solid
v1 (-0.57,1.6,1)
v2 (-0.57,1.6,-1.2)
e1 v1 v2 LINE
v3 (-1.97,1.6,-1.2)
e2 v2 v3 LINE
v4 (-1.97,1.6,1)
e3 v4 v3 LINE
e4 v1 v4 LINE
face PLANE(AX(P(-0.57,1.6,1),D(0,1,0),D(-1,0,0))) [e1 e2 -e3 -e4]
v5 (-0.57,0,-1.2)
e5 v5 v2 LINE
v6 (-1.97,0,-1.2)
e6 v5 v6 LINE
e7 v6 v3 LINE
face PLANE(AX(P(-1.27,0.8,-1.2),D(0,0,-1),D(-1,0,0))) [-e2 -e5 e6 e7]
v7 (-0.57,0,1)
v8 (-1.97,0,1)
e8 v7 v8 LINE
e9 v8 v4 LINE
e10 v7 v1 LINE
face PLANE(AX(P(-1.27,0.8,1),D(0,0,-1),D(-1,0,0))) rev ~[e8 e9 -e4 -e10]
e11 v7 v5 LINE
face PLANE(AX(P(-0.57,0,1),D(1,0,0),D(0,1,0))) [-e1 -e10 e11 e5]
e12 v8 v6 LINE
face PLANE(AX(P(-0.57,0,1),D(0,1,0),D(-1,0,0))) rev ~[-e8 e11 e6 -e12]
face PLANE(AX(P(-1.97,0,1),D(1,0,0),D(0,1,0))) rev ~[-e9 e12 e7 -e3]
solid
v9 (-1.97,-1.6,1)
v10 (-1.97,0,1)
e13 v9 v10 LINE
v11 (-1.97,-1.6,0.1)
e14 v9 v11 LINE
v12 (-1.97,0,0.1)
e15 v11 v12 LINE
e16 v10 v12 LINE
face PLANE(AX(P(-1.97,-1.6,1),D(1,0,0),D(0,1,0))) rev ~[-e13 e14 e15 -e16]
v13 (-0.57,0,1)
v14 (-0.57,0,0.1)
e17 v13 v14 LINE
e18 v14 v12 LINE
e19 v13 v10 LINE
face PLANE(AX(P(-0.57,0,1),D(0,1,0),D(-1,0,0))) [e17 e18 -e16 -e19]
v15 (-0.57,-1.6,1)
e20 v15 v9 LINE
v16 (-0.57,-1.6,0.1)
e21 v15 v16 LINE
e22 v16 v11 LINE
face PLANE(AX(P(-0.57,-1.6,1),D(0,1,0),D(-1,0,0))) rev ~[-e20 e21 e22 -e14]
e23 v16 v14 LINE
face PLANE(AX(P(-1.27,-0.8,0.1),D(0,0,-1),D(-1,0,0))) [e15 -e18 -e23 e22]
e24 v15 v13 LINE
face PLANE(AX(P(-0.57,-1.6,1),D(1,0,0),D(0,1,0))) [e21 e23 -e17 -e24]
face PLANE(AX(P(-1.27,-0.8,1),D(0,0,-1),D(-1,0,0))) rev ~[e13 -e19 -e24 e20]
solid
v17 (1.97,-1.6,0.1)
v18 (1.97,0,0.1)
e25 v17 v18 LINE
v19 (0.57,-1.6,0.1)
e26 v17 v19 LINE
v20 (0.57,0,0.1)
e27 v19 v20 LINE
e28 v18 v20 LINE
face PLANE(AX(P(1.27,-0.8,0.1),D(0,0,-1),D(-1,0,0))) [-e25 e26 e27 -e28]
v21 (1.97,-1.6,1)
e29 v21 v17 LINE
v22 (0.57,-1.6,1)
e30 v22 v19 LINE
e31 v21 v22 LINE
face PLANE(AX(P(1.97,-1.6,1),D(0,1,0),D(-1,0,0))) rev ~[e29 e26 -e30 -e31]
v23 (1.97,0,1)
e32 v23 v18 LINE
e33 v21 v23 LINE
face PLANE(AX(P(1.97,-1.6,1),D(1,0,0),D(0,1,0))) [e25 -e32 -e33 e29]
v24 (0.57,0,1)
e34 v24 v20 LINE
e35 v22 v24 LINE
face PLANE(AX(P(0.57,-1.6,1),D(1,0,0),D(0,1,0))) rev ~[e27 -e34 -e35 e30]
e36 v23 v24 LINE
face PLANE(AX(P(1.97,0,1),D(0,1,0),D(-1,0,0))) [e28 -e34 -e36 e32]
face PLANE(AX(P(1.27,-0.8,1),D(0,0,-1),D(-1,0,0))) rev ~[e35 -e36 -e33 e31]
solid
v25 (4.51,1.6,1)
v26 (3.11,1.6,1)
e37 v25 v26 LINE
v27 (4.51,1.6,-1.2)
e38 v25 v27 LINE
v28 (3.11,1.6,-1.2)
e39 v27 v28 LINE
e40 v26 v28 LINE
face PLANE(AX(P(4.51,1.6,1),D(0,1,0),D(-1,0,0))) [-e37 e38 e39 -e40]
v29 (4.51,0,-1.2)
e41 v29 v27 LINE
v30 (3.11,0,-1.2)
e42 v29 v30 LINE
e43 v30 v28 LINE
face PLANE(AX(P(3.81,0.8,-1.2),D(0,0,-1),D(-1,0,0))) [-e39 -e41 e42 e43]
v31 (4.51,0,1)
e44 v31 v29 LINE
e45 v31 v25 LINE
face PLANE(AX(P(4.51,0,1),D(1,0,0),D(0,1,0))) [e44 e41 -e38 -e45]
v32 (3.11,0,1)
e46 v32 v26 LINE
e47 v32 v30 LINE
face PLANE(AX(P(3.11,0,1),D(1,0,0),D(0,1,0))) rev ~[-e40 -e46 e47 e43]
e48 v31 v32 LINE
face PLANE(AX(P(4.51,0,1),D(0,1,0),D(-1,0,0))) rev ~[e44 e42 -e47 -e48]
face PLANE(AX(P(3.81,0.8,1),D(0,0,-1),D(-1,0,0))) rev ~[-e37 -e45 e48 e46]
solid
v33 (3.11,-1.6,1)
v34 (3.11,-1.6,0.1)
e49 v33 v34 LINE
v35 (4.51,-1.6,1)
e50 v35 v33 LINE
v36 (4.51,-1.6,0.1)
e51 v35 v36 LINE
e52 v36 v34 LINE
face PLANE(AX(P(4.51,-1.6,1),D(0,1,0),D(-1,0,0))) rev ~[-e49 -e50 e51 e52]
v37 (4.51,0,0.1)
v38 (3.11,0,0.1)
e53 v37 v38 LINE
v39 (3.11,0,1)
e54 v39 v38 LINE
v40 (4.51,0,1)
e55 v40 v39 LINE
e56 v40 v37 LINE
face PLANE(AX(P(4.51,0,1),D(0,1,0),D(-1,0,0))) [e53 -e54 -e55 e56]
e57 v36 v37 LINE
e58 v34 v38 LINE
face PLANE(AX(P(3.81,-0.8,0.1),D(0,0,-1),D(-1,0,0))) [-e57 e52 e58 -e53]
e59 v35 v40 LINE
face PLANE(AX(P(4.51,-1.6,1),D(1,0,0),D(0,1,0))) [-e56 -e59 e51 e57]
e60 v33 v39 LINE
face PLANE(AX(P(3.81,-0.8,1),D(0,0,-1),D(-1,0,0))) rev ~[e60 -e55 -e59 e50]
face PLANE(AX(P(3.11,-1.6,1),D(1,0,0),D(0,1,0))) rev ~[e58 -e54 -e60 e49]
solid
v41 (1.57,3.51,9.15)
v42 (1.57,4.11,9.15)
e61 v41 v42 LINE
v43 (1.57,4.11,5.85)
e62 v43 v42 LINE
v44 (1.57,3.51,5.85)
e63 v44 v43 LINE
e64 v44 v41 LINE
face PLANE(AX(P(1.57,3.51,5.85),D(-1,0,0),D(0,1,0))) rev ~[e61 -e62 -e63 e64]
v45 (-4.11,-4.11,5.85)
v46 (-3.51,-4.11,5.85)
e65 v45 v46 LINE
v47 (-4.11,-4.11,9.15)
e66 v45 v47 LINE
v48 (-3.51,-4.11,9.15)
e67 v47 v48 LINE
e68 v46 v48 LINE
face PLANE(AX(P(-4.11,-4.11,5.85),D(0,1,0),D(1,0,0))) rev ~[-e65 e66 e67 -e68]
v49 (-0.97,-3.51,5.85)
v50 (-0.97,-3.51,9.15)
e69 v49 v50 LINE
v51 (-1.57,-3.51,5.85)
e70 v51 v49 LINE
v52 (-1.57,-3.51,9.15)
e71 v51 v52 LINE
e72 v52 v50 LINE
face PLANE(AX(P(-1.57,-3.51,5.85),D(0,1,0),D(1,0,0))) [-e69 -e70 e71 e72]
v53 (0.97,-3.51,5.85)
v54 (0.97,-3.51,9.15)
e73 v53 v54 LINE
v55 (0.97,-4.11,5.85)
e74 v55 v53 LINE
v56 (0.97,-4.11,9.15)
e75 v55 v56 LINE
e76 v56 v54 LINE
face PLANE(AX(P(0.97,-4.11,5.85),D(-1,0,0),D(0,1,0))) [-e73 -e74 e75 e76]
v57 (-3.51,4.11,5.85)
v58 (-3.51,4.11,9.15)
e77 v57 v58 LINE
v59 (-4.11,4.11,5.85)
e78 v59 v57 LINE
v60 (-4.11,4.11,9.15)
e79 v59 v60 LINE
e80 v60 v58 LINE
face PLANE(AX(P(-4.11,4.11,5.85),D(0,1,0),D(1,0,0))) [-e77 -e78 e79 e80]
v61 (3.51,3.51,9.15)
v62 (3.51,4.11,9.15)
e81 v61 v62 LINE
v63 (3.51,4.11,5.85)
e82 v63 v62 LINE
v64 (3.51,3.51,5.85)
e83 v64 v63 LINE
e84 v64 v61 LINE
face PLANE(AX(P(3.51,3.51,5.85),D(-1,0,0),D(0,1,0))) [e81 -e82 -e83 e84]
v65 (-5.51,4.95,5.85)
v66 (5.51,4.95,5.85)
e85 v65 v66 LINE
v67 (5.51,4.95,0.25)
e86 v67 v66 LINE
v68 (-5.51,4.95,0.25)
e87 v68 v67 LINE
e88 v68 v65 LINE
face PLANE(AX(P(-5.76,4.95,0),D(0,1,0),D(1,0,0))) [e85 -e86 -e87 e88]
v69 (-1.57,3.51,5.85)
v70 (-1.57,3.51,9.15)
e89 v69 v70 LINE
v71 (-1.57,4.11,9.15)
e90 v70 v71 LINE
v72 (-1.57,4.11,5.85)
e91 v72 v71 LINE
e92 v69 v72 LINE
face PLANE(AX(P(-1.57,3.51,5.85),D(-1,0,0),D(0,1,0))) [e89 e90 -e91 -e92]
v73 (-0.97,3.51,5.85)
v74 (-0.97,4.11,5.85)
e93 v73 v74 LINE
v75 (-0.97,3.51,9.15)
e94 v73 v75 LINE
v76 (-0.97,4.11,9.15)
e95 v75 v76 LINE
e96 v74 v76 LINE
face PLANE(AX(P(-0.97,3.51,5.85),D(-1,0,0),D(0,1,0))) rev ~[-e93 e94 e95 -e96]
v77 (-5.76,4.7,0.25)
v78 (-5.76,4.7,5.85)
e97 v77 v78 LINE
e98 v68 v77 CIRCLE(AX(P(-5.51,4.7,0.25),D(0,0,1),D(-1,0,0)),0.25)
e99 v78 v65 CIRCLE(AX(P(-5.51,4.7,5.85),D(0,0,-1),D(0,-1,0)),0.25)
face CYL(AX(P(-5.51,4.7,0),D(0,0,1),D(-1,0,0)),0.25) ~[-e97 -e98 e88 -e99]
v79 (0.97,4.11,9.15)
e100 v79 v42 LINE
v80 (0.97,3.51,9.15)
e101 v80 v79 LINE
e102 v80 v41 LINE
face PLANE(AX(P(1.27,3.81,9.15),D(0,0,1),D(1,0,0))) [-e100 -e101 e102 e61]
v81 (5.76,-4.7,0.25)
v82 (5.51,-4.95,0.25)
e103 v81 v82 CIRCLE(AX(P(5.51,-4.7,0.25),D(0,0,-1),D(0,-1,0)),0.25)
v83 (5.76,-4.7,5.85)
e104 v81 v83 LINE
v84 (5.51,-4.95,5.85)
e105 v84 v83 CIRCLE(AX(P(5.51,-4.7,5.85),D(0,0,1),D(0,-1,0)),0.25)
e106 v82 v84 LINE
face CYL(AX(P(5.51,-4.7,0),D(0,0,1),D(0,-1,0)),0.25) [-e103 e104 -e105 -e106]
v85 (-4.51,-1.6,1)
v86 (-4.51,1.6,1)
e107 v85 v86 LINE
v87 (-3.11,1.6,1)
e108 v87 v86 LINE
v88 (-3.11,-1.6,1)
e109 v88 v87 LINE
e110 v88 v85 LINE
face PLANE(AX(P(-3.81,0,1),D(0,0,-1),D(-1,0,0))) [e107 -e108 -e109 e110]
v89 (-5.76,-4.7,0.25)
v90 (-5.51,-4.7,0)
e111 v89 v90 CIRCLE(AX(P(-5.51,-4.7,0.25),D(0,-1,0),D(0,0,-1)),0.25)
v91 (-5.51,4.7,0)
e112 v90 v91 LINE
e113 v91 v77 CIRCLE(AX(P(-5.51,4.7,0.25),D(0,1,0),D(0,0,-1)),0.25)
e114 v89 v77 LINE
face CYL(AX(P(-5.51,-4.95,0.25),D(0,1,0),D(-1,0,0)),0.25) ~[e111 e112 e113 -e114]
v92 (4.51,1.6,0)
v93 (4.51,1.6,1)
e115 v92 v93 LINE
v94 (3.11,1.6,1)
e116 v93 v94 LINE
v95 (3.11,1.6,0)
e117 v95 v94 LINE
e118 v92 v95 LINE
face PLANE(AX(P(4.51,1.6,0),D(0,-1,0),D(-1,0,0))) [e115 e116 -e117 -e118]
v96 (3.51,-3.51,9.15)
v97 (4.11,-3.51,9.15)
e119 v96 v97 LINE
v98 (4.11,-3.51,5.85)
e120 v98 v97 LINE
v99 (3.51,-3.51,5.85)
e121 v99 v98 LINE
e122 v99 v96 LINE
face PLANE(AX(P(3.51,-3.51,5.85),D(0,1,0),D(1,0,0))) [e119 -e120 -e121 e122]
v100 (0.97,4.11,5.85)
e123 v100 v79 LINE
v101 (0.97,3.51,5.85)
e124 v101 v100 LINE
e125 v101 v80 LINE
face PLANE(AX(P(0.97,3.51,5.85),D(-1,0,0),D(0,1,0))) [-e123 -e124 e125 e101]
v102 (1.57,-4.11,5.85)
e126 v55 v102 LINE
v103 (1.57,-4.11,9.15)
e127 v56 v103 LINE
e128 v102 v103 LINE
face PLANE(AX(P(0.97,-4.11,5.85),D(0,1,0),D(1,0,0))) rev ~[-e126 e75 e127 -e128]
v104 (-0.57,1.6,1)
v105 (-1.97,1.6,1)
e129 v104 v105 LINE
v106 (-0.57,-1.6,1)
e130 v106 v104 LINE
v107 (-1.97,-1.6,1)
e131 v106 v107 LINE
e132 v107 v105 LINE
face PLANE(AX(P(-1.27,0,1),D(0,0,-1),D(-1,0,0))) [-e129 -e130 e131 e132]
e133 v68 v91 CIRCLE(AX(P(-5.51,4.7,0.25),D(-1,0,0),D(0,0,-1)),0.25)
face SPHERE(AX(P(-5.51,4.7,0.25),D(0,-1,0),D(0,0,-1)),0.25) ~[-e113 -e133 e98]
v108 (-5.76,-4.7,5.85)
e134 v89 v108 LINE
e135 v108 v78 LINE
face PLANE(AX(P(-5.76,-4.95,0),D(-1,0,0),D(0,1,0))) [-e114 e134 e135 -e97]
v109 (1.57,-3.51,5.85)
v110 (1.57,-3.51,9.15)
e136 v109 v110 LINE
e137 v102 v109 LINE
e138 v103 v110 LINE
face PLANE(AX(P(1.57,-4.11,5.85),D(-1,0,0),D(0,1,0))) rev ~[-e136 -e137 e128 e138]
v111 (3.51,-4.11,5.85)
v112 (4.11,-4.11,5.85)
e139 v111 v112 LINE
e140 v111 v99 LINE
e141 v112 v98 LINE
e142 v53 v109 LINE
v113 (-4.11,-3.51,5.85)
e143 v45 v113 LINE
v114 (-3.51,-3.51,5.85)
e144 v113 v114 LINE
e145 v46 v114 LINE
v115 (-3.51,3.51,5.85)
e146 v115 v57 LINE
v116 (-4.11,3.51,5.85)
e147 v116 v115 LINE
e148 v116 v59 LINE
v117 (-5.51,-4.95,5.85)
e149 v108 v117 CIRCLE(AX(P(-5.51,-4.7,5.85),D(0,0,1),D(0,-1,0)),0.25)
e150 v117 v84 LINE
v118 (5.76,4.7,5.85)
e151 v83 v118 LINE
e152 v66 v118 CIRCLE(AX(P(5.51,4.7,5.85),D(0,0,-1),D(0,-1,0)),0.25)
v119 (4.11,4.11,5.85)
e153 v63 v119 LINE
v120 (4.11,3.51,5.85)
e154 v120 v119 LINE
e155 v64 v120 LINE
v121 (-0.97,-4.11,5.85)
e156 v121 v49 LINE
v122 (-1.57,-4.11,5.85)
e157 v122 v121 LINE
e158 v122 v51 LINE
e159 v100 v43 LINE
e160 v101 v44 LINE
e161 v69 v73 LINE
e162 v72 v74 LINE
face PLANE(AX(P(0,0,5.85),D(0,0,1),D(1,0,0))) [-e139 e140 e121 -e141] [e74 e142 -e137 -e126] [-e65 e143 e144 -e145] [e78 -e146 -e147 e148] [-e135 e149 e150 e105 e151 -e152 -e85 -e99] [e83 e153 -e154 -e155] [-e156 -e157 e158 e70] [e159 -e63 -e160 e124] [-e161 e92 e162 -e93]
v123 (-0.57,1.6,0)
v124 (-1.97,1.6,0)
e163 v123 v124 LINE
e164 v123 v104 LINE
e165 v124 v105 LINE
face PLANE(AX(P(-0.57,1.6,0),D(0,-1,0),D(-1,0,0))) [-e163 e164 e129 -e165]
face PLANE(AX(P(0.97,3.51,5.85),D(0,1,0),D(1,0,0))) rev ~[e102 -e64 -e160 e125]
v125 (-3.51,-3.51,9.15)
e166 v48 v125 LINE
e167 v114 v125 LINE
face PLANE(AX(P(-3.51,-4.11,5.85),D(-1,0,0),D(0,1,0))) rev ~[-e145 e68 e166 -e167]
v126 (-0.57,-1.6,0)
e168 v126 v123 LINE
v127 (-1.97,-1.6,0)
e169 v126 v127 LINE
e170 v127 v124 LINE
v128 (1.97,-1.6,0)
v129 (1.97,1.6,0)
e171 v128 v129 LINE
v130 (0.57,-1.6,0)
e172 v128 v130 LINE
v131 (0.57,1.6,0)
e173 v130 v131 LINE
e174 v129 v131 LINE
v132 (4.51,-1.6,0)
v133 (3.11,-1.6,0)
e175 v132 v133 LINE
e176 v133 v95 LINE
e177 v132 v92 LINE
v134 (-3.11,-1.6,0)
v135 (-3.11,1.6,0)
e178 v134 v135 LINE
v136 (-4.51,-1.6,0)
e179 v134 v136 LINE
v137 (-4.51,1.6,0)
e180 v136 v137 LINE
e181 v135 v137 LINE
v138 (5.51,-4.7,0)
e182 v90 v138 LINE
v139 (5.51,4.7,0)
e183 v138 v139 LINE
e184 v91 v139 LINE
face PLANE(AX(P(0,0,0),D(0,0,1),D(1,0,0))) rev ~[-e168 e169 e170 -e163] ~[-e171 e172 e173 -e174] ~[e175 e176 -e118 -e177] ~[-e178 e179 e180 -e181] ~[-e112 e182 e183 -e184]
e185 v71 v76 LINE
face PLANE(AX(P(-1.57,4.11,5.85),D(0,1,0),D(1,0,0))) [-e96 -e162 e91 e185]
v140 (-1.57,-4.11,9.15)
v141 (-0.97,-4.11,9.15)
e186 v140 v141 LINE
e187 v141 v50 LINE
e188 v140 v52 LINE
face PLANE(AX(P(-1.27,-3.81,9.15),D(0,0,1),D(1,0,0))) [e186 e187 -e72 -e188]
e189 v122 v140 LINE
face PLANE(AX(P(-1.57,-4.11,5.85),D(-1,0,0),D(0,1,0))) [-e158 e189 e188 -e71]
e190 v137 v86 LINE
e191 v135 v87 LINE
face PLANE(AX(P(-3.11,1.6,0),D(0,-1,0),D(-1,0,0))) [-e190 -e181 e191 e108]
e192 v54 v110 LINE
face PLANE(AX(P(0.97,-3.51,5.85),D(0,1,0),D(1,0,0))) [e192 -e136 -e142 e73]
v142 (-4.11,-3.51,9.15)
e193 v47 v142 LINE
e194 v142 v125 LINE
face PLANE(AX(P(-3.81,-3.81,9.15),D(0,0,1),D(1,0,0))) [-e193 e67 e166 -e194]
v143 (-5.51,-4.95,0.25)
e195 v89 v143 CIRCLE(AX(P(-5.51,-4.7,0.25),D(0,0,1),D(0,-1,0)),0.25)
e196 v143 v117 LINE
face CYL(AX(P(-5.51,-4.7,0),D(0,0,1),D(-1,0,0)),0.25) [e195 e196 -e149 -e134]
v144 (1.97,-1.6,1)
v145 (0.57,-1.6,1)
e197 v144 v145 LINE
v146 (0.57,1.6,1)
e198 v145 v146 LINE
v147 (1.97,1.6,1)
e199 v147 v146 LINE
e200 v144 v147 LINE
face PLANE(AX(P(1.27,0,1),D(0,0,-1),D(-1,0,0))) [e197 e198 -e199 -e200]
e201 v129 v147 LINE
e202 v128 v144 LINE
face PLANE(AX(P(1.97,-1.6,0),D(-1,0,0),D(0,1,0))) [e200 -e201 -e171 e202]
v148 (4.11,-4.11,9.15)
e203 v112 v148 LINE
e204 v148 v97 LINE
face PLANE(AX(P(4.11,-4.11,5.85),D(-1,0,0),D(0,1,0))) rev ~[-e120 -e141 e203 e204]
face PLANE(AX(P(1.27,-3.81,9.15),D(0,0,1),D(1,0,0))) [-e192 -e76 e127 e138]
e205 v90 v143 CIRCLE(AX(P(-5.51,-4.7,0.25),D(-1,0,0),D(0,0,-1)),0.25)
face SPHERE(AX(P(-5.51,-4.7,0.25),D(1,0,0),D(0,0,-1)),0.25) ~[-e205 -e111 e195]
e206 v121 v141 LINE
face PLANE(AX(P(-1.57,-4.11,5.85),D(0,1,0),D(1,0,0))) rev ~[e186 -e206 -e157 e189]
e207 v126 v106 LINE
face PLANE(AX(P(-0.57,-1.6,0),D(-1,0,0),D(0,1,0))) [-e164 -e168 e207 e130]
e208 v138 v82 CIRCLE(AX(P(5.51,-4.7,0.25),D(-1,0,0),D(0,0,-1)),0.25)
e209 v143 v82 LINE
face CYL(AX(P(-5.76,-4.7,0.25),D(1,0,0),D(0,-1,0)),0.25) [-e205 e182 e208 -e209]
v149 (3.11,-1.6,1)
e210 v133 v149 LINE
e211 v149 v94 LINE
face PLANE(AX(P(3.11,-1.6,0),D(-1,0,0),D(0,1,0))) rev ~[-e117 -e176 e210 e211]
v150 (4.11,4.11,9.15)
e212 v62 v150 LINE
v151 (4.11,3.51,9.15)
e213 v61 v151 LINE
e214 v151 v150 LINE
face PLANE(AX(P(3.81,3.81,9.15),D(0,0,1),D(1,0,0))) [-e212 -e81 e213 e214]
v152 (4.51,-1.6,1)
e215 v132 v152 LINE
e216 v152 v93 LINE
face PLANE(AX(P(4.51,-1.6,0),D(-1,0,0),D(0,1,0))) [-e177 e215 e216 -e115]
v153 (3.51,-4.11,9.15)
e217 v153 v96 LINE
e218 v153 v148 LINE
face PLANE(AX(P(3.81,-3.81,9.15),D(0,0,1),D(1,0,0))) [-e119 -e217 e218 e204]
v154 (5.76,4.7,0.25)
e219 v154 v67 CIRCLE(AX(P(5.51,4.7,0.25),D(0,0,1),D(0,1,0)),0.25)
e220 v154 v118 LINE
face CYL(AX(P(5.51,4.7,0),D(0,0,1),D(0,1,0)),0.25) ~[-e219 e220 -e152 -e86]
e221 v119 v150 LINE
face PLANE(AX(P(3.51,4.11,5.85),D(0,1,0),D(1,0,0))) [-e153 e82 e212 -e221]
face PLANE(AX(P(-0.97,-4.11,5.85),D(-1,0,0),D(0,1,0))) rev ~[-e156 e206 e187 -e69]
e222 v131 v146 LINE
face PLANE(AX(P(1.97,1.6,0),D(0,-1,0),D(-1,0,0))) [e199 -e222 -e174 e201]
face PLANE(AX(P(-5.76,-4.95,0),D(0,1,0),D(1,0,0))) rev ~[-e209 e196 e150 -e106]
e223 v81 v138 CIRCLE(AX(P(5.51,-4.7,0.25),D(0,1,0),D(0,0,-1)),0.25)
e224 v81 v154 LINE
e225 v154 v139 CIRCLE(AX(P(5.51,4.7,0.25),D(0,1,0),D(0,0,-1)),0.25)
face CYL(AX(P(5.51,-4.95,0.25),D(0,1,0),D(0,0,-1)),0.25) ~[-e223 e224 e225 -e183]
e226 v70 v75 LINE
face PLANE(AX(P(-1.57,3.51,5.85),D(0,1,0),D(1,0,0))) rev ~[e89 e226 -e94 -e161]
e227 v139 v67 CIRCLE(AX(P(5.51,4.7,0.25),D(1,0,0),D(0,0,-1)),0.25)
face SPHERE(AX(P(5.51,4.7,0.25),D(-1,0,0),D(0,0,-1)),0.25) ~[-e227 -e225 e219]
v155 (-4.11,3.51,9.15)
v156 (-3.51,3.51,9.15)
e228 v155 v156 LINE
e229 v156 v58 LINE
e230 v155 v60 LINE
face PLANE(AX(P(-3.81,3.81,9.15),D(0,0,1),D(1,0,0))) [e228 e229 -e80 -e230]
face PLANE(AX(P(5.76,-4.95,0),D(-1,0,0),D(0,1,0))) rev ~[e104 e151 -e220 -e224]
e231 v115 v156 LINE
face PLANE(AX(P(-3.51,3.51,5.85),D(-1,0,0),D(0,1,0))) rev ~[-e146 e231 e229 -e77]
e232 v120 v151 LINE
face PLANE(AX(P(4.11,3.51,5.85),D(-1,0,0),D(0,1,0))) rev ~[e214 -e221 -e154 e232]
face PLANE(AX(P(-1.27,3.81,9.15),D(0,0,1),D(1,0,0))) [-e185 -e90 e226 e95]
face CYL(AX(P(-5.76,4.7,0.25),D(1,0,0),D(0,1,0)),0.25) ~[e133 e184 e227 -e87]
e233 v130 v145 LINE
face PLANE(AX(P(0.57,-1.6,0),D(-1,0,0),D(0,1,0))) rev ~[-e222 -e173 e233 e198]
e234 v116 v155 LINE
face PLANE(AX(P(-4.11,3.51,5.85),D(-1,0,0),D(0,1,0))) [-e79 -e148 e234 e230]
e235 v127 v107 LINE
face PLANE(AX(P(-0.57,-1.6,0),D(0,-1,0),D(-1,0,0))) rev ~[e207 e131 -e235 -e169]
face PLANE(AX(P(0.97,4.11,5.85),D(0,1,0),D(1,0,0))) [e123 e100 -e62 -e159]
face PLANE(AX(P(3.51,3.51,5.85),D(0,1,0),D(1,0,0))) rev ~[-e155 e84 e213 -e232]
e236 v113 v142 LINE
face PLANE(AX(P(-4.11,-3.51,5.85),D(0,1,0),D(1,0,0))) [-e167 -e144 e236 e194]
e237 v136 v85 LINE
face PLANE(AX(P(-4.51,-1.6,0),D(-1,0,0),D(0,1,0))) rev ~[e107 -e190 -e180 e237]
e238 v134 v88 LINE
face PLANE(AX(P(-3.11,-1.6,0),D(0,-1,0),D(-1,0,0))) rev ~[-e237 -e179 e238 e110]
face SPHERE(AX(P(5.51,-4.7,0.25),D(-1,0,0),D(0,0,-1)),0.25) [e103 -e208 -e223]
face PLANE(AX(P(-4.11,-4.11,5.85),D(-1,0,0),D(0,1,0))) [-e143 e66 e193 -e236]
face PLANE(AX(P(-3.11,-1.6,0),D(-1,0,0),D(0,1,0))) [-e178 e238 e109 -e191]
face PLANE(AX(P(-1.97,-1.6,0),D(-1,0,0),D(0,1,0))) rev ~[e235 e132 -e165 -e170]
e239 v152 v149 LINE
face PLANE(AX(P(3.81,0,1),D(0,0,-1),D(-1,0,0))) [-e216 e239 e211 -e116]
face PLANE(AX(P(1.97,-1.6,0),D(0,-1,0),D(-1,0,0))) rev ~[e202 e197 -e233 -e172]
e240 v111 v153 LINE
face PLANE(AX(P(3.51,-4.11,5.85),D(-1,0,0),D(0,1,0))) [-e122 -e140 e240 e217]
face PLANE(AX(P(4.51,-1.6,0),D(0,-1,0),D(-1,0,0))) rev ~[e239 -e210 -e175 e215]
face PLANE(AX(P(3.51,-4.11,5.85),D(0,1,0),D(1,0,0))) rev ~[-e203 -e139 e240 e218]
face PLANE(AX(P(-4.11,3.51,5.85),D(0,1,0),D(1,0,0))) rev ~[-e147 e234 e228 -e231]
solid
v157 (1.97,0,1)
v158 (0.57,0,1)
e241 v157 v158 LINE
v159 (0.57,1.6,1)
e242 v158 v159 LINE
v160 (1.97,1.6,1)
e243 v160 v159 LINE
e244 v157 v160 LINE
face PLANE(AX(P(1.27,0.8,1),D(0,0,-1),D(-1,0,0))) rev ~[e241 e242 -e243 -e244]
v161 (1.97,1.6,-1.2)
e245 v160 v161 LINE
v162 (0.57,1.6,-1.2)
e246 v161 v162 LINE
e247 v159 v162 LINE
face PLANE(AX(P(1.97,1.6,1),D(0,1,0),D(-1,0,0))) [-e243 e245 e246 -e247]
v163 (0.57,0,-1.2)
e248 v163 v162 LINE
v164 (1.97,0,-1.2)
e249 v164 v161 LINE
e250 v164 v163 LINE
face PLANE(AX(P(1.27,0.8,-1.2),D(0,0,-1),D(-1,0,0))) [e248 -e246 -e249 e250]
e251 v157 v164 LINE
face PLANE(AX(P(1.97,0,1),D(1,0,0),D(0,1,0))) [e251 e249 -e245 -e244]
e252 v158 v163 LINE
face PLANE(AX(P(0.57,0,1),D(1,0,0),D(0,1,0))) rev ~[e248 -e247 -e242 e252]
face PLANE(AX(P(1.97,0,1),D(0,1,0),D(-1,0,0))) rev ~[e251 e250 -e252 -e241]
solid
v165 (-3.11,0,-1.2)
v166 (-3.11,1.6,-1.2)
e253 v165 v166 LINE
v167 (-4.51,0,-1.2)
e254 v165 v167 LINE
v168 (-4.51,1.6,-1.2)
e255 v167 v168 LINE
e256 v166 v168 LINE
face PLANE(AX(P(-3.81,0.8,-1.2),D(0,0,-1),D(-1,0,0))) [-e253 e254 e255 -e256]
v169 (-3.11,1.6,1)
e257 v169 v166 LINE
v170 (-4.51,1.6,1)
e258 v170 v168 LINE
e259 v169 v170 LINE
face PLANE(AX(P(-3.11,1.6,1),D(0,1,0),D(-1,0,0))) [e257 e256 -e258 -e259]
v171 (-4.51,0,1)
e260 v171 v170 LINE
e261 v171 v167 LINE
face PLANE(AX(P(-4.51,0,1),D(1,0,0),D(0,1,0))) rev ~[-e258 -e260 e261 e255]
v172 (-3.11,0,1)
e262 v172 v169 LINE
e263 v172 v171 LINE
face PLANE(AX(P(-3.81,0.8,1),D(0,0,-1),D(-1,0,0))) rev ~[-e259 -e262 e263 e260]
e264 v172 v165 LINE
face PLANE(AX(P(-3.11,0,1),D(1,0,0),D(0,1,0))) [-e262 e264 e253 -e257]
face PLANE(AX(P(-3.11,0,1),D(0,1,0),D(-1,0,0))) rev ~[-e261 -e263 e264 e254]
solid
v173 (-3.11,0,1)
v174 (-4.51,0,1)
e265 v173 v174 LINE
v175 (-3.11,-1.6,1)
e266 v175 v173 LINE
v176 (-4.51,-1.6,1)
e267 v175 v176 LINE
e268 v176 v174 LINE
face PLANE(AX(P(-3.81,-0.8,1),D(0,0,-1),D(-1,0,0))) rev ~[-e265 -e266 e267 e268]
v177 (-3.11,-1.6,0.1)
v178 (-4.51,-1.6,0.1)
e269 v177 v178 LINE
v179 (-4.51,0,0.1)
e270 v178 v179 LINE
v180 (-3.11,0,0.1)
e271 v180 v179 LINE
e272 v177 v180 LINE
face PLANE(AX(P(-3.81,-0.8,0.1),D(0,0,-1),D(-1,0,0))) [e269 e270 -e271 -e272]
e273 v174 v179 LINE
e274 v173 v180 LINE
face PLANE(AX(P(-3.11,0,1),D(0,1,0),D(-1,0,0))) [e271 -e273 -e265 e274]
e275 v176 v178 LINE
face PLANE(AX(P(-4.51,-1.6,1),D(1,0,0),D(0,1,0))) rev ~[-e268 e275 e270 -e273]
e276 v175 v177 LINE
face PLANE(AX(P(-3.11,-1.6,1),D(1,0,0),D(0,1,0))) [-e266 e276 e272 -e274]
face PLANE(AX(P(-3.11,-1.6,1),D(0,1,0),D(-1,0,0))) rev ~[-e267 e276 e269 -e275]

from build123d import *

# Parameters (mm, degrees)
IZIM1_W                       = 11.52
IZIM1_H                       = 9.9
Y_KSEKLIK_EKSTR_ZYON1_DEPTH   = 5.85
IZIM2_W                       = 1.4
IZIM2_H                       = 3.2
KES_EKSTR_ZYON1_DEPTH         = 1
IZIM4_W                       = 1.4
IZIM4_H                       = 1.6
Y_KSEKLIK_EKSTR_ZYON2_DEPTH   = 2.2
Y_KSEKLIK_EKSTR_ZYON2_2_DEPTH = 2.2
Y_KSEKLIK_EKSTR_ZYON2_3_DEPTH = 2.2
Y_KSEKLIK_EKSTR_ZYON2_4_DEPTH = 2.2
IZIM5_W                       = 1.4
IZIM5_H                       = 1.6
Y_KSEKLIK_EKSTR_ZYON3_DEPTH   = 0.9
Y_KSEKLIK_EKSTR_ZYON3_2_DEPTH = 0.9
Y_KSEKLIK_EKSTR_ZYON3_3_DEPTH = 0.9
Y_KSEKLIK_EKSTR_ZYON3_4_DEPTH = 0.9
RADYUS1_R                     = 0.25
IZIM6_W                       = 0.6
IZIM6_H                       = 0.6
Y_KSEKLIK_EKSTR_ZYON4_DEPTH   = 3.3


with BuildPart() as part:
    # Çizim1 → Yükseklik-Ekstrüzyon1 (new body)
    with BuildSketch(Plane.XY):
        Rectangle(IZIM1_W, IZIM1_H)
    extrude(amount=Y_KSEKLIK_EKSTR_ZYON1_DEPTH)

    # Çizim2 → Kes-Ekstrüzyon1 (cut)
    with BuildSketch(Plane(origin=(0, 0, 0), x_dir=(-1, 0, 0), z_dir=(0, 0, -1))):
        with Locations((3.81, 0)):
            Rectangle(IZIM2_W, IZIM2_H)
        with Locations((1.27, 0)):
            Rectangle(IZIM2_W, IZIM2_H)
        with Locations((-1.27, 0)):
            Rectangle(IZIM2_W, IZIM2_H)
        with Locations((-3.81, 0)):
            Rectangle(IZIM2_W, IZIM2_H)
    extrude(amount=-KES_EKSTR_ZYON1_DEPTH, mode=Mode.SUBTRACT)

    # Radyus1
    radyus1_edges = [part.edges().sort_by_distance(p)[0] for p in [
        (0, -4.95, 0),
        (-5.76, 0, 0),
        (0, 4.95, 0),
        (5.76, 0, 0),
        (5.76, -4.95, 2.925),
        (-5.76, -4.95, 2.925),
        (-5.76, 4.95, 2.925),
        (5.76, 4.95, 2.925),
    ]]
    fillet(radyus1_edges, radius=RADYUS1_R)

    # Çizim6 → Yükseklik-Ekstrüzyon4 (add)
    with BuildSketch(Plane.XY.offset(5.85)):
        with Locations((3.81, 3.81)):
            Rectangle(IZIM6_W, IZIM6_H)
        with Locations((1.27, 3.81)):
            Rectangle(IZIM6_W, IZIM6_H)
        with Locations((-1.27, 3.81)):
            Rectangle(IZIM6_W, IZIM6_H)
        with Locations((-3.81, 3.81)):
            Rectangle(IZIM6_W, IZIM6_H)
        with Locations((3.81, -3.81)):
            Rectangle(IZIM6_W, IZIM6_H)
        with Locations((1.27, -3.81)):
            Rectangle(IZIM6_W, IZIM6_H)
        with Locations((-1.27, -3.81)):
            Rectangle(IZIM6_W, IZIM6_H)
        with Locations((-3.81, -3.81)):
            Rectangle(IZIM6_W, IZIM6_H)
    extrude(amount=Y_KSEKLIK_EKSTR_ZYON4_DEPTH)


with BuildPart() as body_2:
    # Çizim4 → Yükseklik-Ekstrüzyon2 (new body)
    with BuildSketch(Plane(origin=(0, 0, 1), x_dir=(-1, 0, 0), z_dir=(0, 0, -1))):
        with Locations((3.81, 0.8)):
            Rectangle(IZIM4_W, IZIM4_H)
    extrude(amount=Y_KSEKLIK_EKSTR_ZYON2_DEPTH)


with BuildPart() as body_3:
    # Çizim4 → Y_kseklik-Ekstr_zyon2 2 (new body)
    with BuildSketch(Plane(origin=(0, 0, 1), x_dir=(-1, 0, 0), z_dir=(0, 0, -1))):
        with Locations((1.27, 0.8)):
            Rectangle(IZIM4_W, IZIM4_H)
    extrude(amount=Y_KSEKLIK_EKSTR_ZYON2_2_DEPTH)


with BuildPart() as body_4:
    # Çizim4 → Y_kseklik-Ekstr_zyon2 3 (new body)
    with BuildSketch(Plane(origin=(0, 0, 1), x_dir=(-1, 0, 0), z_dir=(0, 0, -1))):
        with Locations((-1.27, 0.8)):
            Rectangle(IZIM4_W, IZIM4_H)
    extrude(amount=Y_KSEKLIK_EKSTR_ZYON2_3_DEPTH)


with BuildPart() as body_5:
    # Çizim4 → Y_kseklik-Ekstr_zyon2 4 (new body)
    with BuildSketch(Plane(origin=(0, 0, 1), x_dir=(-1, 0, 0), z_dir=(0, 0, -1))):
        with Locations((-3.81, 0.8)):
            Rectangle(IZIM4_W, IZIM4_H)
    extrude(amount=Y_KSEKLIK_EKSTR_ZYON2_4_DEPTH)


with BuildPart() as body_6:
    # Çizim5 → Yükseklik-Ekstrüzyon3 (new body)
    with BuildSketch(Plane(origin=(0, 0, 1), x_dir=(-1, 0, 0), z_dir=(0, 0, -1))):
        with Locations((-3.81, -0.8)):
            Rectangle(IZIM5_W, IZIM5_H)
    extrude(amount=Y_KSEKLIK_EKSTR_ZYON3_DEPTH)


with BuildPart() as body_7:
    # Çizim5 → Y_kseklik-Ekstr_zyon3 2 (new body)
    with BuildSketch(Plane(origin=(0, 0, 1), x_dir=(-1, 0, 0), z_dir=(0, 0, -1))):
        with Locations((-1.27, -0.8)):
            Rectangle(IZIM5_W, IZIM5_H)
    extrude(amount=Y_KSEKLIK_EKSTR_ZYON3_2_DEPTH)


with BuildPart() as body_8:
    # Çizim5 → Y_kseklik-Ekstr_zyon3 3 (new body)
    with BuildSketch(Plane(origin=(0, 0, 1), x_dir=(-1, 0, 0), z_dir=(0, 0, -1))):
        with Locations((1.27, -0.8)):
            Rectangle(IZIM5_W, IZIM5_H)
    extrude(amount=Y_KSEKLIK_EKSTR_ZYON3_3_DEPTH)


with BuildPart() as body_9:
    # Çizim5 → Y_kseklik-Ekstr_zyon3 4 (new body)
    with BuildSketch(Plane(origin=(0, 0, 1), x_dir=(-1, 0, 0), z_dir=(0, 0, -1))):
        with Locations((3.81, -0.8)):
            Rectangle(IZIM5_W, IZIM5_H)
    extrude(amount=Y_KSEKLIK_EKSTR_ZYON3_4_DEPTH)


solid = Compound([part.part, body_2.part, body_3.part, body_4.part, body_5.part, body_6.part, body_7.part, body_8.part, body_9.part])
